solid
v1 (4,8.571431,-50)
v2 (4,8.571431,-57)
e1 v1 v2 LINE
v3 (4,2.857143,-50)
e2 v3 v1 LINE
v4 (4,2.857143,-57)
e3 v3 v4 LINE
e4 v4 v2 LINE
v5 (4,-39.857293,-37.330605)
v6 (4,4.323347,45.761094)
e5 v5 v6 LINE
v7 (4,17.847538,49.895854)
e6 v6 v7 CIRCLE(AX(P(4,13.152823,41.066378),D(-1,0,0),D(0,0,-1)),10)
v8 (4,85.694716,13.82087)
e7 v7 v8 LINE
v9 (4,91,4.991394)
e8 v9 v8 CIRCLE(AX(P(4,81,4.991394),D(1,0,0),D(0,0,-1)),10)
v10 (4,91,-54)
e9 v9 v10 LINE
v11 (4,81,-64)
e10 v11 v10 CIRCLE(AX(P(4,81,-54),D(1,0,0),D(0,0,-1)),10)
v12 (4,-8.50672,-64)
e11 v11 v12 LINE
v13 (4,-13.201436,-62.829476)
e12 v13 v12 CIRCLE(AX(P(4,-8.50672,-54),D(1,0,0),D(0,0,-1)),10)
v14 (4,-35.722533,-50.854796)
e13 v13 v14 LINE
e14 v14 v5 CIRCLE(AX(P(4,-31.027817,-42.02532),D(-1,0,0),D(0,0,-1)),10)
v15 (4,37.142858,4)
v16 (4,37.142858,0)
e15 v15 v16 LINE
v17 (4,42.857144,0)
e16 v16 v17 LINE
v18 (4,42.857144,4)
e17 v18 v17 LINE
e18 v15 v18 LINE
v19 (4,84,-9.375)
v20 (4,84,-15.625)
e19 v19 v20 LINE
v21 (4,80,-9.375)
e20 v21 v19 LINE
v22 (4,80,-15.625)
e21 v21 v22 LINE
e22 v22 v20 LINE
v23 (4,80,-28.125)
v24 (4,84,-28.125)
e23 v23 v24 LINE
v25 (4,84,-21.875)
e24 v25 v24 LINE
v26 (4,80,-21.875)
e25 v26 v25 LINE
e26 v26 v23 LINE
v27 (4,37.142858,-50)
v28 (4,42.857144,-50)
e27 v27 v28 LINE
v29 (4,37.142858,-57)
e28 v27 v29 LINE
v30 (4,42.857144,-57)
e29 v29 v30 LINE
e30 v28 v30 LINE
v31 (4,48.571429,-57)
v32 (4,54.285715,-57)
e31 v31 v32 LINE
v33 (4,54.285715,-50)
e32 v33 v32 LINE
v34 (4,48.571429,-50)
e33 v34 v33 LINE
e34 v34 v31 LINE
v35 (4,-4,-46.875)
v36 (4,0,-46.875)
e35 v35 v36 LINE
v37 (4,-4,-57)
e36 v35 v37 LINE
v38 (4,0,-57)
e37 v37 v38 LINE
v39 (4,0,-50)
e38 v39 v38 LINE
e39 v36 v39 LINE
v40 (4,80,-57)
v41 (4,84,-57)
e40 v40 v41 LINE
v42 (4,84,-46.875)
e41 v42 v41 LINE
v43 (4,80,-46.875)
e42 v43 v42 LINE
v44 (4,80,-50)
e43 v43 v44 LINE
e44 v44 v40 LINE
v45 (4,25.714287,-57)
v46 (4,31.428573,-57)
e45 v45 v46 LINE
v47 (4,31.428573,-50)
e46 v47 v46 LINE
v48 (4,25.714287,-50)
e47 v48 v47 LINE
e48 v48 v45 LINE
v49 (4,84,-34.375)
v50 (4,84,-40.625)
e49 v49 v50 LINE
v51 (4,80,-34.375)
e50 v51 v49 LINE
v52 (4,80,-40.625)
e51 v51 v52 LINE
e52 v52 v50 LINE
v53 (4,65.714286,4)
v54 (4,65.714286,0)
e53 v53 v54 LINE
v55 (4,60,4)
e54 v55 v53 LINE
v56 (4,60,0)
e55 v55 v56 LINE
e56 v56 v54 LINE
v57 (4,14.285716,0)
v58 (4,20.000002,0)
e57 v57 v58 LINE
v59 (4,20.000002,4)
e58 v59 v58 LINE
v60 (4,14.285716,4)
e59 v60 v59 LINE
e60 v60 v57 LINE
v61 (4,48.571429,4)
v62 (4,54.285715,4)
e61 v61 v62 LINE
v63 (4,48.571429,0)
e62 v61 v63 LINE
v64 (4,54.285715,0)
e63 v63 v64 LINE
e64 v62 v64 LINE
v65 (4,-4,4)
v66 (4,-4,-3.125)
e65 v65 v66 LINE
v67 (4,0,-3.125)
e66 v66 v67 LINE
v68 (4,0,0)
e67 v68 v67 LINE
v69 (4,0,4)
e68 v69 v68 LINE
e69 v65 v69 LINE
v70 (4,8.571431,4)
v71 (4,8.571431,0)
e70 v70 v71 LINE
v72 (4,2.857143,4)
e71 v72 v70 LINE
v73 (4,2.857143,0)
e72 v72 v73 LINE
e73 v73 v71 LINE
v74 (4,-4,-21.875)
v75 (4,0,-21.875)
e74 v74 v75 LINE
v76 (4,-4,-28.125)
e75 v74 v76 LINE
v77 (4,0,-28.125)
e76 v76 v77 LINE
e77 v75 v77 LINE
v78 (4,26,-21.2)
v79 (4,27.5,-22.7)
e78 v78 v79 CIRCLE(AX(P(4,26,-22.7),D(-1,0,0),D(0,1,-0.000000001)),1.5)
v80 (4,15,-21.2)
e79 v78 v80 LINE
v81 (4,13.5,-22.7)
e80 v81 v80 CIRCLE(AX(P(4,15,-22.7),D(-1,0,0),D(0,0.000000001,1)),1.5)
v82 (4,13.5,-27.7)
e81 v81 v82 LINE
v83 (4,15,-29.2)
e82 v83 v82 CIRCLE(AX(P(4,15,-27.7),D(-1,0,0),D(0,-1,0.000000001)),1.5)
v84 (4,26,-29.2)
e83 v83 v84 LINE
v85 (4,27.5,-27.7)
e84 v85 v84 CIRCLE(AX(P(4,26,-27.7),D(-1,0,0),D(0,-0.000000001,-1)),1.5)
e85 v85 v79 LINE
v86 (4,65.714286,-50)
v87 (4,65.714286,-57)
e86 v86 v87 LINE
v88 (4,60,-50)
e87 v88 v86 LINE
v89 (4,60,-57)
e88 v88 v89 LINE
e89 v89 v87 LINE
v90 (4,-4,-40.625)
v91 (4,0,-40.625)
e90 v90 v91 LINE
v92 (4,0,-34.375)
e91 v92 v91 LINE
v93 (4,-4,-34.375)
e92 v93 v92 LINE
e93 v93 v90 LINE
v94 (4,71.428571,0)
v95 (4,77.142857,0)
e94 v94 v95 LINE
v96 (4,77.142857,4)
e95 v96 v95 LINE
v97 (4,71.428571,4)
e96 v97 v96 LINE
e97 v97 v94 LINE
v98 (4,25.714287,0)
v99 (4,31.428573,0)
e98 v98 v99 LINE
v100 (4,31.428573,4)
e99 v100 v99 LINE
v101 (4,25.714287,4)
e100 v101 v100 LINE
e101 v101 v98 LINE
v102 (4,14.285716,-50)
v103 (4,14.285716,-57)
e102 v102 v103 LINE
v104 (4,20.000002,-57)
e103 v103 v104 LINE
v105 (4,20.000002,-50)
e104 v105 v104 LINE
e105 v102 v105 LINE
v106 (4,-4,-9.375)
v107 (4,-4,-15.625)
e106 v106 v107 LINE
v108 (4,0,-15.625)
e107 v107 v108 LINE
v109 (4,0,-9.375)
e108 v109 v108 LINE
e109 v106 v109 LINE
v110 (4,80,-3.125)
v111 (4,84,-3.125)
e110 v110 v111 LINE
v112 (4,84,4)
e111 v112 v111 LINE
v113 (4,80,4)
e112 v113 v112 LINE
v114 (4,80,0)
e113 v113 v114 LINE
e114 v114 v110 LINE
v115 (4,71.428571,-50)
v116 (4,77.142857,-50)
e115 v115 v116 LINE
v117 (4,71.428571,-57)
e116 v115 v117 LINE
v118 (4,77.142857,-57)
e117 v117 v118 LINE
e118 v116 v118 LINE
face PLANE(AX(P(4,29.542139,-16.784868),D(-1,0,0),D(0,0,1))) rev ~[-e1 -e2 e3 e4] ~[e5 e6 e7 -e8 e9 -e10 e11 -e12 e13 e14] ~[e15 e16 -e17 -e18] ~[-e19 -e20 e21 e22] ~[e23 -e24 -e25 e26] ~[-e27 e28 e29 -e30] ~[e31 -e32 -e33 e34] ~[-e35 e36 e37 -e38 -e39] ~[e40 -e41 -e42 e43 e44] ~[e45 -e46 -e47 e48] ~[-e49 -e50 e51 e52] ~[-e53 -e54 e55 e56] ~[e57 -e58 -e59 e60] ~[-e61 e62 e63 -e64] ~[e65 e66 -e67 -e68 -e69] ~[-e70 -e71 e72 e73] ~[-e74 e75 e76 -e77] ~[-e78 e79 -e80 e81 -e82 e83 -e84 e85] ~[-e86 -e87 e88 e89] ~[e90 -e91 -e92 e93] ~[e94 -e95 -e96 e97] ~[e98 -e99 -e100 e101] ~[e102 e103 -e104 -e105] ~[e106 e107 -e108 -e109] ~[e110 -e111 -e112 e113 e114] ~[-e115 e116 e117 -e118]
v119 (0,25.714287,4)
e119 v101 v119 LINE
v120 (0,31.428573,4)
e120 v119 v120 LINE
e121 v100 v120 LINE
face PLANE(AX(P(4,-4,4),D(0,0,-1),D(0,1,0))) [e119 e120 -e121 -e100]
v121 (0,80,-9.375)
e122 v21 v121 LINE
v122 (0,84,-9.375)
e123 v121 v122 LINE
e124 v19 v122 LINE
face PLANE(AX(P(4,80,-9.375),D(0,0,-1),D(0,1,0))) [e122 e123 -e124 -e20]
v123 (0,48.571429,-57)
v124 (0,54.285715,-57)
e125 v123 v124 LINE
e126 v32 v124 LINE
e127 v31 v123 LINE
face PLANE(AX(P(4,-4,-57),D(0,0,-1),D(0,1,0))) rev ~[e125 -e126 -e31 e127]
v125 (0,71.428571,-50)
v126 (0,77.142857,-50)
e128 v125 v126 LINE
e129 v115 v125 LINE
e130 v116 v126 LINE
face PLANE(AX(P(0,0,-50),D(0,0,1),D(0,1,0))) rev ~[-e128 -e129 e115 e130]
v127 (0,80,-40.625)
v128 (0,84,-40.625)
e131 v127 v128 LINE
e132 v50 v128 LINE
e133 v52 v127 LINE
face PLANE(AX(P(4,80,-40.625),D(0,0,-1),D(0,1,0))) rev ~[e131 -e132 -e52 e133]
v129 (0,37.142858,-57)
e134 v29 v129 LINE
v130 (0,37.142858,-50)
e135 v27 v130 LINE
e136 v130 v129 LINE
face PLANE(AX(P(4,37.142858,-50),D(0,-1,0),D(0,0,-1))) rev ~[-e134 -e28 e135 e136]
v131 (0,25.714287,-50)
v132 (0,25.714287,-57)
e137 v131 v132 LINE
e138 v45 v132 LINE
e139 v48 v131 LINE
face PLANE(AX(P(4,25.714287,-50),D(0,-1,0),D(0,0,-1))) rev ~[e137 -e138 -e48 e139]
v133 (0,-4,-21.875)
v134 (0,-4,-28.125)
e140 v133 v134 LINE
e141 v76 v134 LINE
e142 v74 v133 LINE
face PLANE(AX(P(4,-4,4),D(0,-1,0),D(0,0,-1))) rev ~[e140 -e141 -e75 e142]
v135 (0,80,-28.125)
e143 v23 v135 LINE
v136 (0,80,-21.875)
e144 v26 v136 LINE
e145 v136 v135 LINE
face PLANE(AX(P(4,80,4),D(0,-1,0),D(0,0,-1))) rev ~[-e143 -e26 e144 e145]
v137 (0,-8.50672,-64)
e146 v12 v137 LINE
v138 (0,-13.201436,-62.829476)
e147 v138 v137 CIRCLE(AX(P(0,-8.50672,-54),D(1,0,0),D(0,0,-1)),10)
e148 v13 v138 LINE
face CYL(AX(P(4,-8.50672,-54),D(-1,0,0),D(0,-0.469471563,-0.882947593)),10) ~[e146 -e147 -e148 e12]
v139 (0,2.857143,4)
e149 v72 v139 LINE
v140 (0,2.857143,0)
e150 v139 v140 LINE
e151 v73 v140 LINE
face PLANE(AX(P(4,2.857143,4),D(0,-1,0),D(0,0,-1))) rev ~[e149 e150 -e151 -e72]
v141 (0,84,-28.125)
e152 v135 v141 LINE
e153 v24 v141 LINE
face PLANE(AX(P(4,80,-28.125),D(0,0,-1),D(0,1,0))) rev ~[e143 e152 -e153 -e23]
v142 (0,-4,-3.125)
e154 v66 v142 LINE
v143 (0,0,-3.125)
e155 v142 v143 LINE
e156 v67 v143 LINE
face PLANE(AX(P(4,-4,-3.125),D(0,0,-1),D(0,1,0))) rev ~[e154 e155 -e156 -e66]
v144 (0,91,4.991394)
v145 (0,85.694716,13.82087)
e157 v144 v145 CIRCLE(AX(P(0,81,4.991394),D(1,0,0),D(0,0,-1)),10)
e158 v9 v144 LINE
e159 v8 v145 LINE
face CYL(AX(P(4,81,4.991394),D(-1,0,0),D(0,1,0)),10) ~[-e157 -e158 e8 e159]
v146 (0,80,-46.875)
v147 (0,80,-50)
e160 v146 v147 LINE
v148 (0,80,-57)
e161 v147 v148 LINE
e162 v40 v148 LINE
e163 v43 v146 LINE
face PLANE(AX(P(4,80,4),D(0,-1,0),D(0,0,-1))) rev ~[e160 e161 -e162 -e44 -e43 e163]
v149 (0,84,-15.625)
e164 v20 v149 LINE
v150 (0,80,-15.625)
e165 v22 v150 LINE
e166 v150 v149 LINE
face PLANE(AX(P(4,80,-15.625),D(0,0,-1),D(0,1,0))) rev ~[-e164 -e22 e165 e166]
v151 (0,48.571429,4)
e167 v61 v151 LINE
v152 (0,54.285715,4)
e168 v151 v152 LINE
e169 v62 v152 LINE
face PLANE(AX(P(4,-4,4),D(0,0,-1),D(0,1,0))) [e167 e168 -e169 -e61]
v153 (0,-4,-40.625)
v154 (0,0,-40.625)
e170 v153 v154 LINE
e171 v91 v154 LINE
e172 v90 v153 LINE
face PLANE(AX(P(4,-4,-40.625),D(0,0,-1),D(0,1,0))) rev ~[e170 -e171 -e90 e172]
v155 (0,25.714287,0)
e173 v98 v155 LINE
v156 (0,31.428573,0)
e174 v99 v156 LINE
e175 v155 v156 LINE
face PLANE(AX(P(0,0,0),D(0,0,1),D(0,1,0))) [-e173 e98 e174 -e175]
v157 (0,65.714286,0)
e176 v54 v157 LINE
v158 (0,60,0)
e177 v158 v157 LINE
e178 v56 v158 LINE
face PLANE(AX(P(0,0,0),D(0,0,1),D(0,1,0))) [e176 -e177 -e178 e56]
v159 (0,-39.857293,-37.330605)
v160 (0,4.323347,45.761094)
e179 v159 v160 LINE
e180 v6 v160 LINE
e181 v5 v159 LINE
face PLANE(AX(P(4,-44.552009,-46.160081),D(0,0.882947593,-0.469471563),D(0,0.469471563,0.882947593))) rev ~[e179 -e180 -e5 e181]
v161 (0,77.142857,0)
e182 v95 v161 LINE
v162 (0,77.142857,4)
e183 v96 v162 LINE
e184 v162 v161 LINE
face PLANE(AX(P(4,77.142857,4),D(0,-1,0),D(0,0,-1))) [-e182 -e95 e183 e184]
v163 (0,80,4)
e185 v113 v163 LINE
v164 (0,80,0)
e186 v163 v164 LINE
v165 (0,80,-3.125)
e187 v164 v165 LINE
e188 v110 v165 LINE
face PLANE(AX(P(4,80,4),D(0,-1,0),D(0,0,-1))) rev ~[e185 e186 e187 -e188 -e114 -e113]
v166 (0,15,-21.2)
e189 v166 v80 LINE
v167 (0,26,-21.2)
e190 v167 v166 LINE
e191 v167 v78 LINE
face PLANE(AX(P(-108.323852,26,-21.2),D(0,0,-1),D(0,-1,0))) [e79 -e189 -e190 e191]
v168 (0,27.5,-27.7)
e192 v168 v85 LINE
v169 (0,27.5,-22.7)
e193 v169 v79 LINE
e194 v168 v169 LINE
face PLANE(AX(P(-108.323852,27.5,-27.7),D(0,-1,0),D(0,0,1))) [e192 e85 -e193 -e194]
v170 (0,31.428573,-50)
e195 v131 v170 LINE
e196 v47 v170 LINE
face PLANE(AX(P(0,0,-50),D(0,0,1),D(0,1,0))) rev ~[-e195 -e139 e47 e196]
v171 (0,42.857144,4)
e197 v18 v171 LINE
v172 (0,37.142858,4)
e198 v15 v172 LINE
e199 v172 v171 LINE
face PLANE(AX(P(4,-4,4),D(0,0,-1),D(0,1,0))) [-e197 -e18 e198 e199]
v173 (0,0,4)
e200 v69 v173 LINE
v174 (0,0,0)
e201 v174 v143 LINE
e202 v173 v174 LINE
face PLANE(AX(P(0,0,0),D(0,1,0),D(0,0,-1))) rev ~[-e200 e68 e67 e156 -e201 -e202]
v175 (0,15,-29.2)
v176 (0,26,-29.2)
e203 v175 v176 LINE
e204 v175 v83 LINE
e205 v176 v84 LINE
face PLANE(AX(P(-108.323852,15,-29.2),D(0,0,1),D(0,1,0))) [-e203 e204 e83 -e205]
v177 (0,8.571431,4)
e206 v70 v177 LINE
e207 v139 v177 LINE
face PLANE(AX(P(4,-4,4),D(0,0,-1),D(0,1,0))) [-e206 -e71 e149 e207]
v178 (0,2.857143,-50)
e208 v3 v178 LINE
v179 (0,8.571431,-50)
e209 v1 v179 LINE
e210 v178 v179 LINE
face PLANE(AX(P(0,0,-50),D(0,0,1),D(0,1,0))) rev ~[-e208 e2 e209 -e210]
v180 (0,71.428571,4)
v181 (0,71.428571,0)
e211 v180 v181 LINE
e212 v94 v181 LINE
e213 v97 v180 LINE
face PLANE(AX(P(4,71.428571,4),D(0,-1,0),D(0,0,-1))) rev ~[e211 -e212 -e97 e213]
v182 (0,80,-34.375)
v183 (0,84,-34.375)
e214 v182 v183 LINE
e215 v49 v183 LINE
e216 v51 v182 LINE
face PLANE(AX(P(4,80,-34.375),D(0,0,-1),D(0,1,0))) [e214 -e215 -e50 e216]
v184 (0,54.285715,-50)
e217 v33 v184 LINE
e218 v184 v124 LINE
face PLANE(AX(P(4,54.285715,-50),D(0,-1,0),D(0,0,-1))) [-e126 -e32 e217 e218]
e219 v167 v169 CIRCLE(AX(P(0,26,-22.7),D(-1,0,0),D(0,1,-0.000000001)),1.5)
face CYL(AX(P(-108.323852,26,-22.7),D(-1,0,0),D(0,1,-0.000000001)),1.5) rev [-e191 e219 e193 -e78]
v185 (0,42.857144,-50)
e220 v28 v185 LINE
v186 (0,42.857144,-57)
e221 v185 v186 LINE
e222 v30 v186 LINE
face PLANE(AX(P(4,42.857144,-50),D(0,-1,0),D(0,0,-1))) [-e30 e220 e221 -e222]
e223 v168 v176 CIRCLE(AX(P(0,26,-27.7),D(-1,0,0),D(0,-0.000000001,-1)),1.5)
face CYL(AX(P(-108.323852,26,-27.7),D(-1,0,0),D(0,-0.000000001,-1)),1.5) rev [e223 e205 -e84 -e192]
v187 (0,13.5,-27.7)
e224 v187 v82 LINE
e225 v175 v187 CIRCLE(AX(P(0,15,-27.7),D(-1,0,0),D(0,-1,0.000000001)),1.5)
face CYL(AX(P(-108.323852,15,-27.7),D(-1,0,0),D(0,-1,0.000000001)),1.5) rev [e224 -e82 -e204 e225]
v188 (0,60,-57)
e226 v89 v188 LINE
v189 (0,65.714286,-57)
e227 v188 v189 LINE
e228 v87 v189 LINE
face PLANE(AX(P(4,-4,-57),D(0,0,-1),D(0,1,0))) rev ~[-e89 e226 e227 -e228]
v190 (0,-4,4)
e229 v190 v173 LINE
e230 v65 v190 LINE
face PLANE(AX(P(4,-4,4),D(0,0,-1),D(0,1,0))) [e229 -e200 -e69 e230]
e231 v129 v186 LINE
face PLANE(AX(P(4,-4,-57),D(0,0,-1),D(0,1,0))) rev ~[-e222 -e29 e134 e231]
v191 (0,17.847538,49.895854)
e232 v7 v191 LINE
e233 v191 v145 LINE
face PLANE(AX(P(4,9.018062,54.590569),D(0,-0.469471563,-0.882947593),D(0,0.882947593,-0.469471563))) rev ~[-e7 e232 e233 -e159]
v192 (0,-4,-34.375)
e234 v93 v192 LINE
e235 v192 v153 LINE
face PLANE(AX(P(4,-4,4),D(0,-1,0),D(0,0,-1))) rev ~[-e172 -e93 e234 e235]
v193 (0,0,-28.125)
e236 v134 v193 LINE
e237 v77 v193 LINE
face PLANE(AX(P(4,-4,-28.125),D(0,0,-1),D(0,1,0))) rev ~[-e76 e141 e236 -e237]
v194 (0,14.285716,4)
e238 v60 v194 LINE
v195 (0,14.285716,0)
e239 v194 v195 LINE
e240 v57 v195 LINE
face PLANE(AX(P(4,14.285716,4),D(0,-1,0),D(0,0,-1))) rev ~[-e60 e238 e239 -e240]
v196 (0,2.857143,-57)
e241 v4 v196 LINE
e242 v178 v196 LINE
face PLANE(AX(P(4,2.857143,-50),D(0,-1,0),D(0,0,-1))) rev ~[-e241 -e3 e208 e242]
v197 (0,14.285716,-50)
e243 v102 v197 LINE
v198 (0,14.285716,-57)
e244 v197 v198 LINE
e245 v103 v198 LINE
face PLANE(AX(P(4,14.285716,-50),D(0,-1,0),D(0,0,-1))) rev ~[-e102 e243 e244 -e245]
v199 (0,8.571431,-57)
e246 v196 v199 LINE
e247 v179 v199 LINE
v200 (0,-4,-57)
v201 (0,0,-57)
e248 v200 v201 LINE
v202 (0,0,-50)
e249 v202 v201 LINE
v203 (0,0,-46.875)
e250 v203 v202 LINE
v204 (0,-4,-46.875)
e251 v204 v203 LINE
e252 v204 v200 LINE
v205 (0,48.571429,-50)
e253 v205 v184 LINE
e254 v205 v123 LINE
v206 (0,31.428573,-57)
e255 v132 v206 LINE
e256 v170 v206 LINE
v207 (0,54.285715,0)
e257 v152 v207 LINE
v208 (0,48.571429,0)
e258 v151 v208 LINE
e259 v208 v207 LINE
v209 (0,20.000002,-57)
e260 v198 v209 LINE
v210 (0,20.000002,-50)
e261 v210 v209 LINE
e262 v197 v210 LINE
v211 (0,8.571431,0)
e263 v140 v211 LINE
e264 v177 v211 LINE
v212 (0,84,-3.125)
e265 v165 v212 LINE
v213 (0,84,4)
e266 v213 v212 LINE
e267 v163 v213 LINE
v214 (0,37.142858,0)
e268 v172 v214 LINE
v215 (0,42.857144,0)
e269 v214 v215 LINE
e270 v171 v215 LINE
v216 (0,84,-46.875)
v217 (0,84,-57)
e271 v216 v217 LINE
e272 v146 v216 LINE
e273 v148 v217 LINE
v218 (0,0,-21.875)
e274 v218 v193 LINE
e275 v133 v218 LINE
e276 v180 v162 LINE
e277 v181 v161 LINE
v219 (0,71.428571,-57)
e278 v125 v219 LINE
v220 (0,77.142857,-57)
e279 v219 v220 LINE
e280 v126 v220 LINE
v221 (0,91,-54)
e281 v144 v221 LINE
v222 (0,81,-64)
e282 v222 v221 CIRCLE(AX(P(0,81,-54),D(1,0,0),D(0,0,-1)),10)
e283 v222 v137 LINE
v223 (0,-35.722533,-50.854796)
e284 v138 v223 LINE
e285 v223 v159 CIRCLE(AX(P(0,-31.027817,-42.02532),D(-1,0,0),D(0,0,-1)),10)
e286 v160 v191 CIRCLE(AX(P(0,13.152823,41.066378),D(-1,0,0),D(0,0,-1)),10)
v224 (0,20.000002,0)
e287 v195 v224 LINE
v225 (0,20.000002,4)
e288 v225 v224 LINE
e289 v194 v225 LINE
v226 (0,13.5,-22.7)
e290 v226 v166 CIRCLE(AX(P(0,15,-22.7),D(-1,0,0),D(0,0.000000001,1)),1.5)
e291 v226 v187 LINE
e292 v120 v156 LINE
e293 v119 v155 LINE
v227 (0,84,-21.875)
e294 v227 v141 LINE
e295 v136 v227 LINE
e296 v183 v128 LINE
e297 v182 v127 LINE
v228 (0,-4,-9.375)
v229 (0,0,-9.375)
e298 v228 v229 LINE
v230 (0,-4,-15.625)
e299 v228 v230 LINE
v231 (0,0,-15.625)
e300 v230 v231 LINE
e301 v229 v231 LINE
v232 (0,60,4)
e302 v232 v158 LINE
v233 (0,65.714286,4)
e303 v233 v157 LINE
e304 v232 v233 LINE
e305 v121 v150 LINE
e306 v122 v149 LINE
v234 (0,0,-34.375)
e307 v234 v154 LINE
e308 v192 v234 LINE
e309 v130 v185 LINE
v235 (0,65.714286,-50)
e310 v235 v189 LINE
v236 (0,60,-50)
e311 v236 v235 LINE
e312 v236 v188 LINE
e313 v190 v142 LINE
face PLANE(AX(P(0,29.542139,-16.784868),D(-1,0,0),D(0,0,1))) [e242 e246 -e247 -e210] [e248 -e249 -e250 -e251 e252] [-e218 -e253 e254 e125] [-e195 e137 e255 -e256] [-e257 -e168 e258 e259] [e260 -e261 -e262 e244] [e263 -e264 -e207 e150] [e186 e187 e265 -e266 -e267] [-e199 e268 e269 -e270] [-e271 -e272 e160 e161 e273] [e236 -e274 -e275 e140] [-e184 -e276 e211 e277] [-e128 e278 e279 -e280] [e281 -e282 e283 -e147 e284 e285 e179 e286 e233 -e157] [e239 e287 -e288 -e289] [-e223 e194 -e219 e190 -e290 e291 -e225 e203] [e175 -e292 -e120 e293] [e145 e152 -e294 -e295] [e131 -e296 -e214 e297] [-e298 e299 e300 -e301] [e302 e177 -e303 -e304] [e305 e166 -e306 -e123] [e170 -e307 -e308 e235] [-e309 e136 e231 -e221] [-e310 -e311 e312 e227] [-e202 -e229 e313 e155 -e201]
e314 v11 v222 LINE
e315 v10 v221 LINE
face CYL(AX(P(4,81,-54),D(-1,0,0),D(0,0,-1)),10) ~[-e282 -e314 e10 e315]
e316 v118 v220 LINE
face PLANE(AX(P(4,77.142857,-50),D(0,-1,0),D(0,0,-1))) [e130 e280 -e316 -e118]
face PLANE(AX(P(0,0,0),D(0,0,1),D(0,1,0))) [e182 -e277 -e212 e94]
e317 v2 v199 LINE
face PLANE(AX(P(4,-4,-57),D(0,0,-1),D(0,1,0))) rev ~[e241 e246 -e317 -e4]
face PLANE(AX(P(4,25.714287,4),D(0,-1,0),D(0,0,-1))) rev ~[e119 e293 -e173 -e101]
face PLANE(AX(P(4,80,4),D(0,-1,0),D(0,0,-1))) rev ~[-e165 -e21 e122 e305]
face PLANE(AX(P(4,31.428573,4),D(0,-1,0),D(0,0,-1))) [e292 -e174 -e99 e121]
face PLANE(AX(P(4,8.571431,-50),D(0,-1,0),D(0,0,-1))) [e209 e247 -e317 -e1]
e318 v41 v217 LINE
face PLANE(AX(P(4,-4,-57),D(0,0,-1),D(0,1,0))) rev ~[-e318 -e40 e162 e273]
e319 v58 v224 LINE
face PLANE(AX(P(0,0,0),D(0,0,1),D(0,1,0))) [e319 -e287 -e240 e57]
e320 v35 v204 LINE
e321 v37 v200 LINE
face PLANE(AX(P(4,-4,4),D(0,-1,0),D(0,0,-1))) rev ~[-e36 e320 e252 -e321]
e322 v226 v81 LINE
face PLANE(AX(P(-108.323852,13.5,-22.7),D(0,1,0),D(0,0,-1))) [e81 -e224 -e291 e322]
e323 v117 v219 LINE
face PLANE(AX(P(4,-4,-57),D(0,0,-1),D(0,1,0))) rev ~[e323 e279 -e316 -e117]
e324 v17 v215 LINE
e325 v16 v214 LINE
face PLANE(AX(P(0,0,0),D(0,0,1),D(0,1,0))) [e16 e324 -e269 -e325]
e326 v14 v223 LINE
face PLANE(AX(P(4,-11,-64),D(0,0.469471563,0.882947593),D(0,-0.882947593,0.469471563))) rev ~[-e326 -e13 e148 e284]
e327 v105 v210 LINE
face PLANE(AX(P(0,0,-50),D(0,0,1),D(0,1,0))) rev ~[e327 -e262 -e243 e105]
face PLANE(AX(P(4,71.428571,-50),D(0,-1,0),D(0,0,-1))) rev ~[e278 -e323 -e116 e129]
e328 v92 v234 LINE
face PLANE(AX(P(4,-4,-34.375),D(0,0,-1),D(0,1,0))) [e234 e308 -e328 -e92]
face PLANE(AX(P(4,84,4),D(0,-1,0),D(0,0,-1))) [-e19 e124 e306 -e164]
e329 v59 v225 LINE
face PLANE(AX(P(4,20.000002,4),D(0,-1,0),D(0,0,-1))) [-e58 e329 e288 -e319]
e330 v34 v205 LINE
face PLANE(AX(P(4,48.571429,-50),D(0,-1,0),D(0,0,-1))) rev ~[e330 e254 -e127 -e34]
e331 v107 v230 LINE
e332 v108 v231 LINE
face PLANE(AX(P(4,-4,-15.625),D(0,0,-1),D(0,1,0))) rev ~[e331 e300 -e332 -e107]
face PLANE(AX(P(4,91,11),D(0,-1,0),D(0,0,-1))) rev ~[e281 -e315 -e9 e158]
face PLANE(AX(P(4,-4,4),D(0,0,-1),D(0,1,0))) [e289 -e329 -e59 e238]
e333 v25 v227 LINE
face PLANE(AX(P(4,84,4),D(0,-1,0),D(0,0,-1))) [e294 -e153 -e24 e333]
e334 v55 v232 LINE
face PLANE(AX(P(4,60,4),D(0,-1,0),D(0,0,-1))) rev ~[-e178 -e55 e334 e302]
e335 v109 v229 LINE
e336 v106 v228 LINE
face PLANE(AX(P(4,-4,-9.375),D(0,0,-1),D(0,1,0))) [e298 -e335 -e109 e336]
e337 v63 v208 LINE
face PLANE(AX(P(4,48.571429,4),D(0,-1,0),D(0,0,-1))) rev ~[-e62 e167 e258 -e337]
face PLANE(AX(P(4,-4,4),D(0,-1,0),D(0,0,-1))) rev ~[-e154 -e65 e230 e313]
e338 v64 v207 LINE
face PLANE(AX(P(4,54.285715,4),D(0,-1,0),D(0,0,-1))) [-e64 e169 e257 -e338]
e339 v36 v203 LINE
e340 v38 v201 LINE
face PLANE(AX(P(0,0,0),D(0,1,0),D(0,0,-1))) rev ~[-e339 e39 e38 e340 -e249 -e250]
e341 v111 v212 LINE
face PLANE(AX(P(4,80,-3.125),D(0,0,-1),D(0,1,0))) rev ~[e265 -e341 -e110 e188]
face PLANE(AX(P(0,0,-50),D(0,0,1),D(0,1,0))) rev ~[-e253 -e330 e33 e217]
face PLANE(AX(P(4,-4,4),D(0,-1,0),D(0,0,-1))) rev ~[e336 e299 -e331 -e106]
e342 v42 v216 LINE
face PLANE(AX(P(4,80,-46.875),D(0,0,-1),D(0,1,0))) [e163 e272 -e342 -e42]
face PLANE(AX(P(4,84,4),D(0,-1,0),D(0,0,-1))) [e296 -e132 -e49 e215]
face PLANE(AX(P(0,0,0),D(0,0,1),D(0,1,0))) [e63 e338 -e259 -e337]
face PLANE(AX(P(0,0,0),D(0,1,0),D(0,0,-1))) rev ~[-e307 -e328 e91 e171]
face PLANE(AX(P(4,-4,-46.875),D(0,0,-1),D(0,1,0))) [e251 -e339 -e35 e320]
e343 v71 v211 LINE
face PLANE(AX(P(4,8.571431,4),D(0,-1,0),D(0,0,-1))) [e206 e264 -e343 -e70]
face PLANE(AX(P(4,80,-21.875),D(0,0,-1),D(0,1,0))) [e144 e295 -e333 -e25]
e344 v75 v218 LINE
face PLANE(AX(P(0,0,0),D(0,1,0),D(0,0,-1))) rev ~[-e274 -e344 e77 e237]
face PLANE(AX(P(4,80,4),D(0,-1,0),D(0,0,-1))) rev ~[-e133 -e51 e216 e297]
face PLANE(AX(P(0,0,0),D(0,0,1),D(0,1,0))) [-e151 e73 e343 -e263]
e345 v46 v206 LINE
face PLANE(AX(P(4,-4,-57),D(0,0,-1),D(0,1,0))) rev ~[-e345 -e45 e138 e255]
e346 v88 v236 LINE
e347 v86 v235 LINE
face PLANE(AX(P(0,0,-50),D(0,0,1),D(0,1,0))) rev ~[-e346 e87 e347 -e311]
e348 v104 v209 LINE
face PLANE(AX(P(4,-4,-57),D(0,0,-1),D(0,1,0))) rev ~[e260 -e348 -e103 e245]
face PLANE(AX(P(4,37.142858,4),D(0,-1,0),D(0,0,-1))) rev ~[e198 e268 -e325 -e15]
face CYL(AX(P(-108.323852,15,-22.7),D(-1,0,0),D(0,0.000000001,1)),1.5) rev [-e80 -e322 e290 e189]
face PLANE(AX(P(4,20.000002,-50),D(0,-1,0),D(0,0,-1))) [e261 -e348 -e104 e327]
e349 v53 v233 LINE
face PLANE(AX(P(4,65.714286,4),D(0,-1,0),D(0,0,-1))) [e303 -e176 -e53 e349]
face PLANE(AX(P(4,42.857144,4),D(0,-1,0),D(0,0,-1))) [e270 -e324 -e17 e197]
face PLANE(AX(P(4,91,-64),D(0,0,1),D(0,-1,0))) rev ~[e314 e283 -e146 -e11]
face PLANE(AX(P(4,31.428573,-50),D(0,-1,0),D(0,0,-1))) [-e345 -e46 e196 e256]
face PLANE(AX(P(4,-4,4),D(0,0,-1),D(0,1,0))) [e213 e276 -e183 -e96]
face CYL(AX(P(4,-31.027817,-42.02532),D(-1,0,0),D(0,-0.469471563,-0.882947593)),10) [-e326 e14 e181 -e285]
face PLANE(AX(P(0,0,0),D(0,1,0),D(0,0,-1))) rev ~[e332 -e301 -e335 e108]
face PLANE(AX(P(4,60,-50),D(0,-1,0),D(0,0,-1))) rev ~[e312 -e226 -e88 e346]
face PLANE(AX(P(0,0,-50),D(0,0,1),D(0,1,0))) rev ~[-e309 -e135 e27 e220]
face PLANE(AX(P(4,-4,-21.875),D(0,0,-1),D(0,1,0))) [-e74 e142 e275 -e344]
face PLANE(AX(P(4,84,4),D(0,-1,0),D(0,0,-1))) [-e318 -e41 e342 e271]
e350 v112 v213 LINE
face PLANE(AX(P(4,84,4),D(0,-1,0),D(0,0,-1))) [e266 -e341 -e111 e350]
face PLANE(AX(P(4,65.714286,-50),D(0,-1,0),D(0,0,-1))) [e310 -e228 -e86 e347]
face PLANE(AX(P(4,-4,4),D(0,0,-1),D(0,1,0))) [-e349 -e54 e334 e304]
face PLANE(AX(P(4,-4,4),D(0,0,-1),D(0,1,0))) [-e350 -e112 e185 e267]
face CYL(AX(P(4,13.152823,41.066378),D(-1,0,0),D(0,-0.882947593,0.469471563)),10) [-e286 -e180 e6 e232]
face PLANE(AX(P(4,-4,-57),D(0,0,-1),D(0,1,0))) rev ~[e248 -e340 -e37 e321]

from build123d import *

# Parameters (mm, degrees)
SCHIZZO1_W                    = 50
SCHIZZO1_H                    = 80
ESTRUSIONE_ESTRUSIONE1_DEPTH  = 4
SCHIZZO2_W                    = 4
SCHIZZO2_H                    = 2.857142857
SCHIZZO2_W_2                  = 7
ESTRUSIONE_ESTRUSIONE2_DEPTH  = 4
SCHIZZO3_W                    = 4
SCHIZZO3_H                    = 5.714285715
SCHIZZO3_W_2                  = 7
ESTRUSIONE_ESTRUSIONE3_DEPTH  = 4
RIPETIZIONE_A_L1_COUNT        = 6
RIPETIZIONE_A_L1_PITCH        = 11.428571
SCHIZZO4_W                    = 6.25
SCHIZZO4_H                    = 4
ESTRUSIONE_ESTRUSIONE4_DEPTH  = 4
RIPETIZIONE_A_L2_COUNT        = 4
RIPETIZIONE_A_L2_PITCH        = 12.5
SCHIZZO5_W                    = 61
SCHIZZO5_H                    = 88
ESTRUSIONE_ESTRUSIONE5_DEPTH  = 4
RACCORDO1_R                   = 10
TAGLIO_ESTRUSIONE1_DEPTH      = 112.323851892
TAGLIO_ESTRUSIONE1_DEPTH_BACK = 112.323851892
RACCORDO2_R                   = 10


with BuildPart() as part:
    # Schizzo1 → Estrusione-Estrusione1 (new body)
    with BuildSketch(Plane(origin=(0, 0, 0), x_dir=(0, 0, -1), z_dir=(1, 0, 0))):
        with Locations((25, 40)):
            Rectangle(SCHIZZO1_W, SCHIZZO1_H)
    extrude(amount=ESTRUSIONE_ESTRUSIONE1_DEPTH)

    # Schizzo2 → Estrusione-Estrusione2 (add)
    with BuildSketch(Plane(origin=(4, 0, 0), x_dir=(0, 0, -1), z_dir=(1, 0, 0))):
        with Locations((-2, 78.571428572)):
            Rectangle(SCHIZZO2_W, SCHIZZO2_H)
        with Locations((53.5, 78.571428572)):
            Rectangle(SCHIZZO2_W_2, SCHIZZO2_H)
        with Locations((53.5, 1.428571429)):
            Rectangle(SCHIZZO2_W_2, SCHIZZO2_H)
        with Locations((-2, 1.428571429)):
            Rectangle(SCHIZZO2_W, SCHIZZO2_H)
    extrude(amount=-ESTRUSIONE_ESTRUSIONE2_DEPTH)

    # Schizzo3 → Estrusione-Estrusione3 (add)
    with BuildSketch(Plane(origin=(4, 0, 0), x_dir=(0, 0, -1), z_dir=(1, 0, 0))):
        with Locations((-2, 68.571428572)):
            Rectangle(SCHIZZO3_W, SCHIZZO3_H)
        with Locations((53.5, 68.571428572)):
            Rectangle(SCHIZZO3_W_2, SCHIZZO3_H)
    estrusione_estrusione3 = extrude(amount=-ESTRUSIONE_ESTRUSIONE3_DEPTH)

    # Ripetizione a L1: Estrusione-Estrusione3 ×6
    with Locations(*[(0, -i * RIPETIZIONE_A_L1_PITCH, 0) for i in range(1, RIPETIZIONE_A_L1_COUNT)]):
        add(estrusione_estrusione3)

    # Schizzo4 → Estrusione-Estrusione4 (add)
    with BuildSketch(Plane(origin=(4, 0, 0), x_dir=(0, 0, -1), z_dir=(1, 0, 0))):
        with Locations((6.25, 82)):
            Rectangle(SCHIZZO4_W, SCHIZZO4_H)
        with Locations((6.25, -2)):
            Rectangle(SCHIZZO4_W, SCHIZZO4_H)
    estrusione_estrusione4 = extrude(amount=-ESTRUSIONE_ESTRUSIONE4_DEPTH)

    # Ripetizione a L2: Estrusione-Estrusione4 ×4
    with Locations(*[(0, 0, -i * RIPETIZIONE_A_L2_PITCH) for i in range(1, RIPETIZIONE_A_L2_COUNT)]):
        add(estrusione_estrusione4)

    # Schizzo5 → Estrusione-Estrusione5 (add)
    with BuildSketch(Plane(origin=(4, 0, 0), x_dir=(0, 0, -1), z_dir=(1, 0, 0))):
        Polygon((64, -11), (46.160080614, -44.552008529), (-54.590569466, 9.018062365), (-11, 91), (64, 91), align=None)
        with Locations((26.5, 40)):
            Rectangle(SCHIZZO5_W, SCHIZZO5_H, mode=Mode.SUBTRACT)
    extrude(amount=-ESTRUSIONE_ESTRUSIONE5_DEPTH)

    # Raccordo1
    raccordo1_edges = [part.edges().sort_by_distance(p)[0] for p in [
        (2, -44.552008529, -46.160080614),
        (2, 9.018062365, 54.590569466),
    ]]
    fillet(raccordo1_edges, radius=RACCORDO1_R)

    # Schizzo6 → Taglio-Estrusione1 (cut, two sides: drawn at the far end of the back side and taken through both)
    with BuildSketch(Plane(origin=(4, 0, 0), x_dir=(0, 0, -1), z_dir=(1, 0, 0)).offset(-TAGLIO_ESTRUSIONE1_DEPTH_BACK)):
        with BuildLine():
            Line((21.2, 26), (21.2, 15))
            ThreePointArc((21.2, 15), (21.639339828, 13.939339828), (22.7, 13.5))
            Line((22.7, 13.5), (27.7, 13.5))
            ThreePointArc((27.7, 13.5), (28.760660172, 13.939339828), (29.2, 15))
            Line((29.2, 15), (29.2, 26))
            ThreePointArc((29.2, 26), (28.760660172, 27.060660172), (27.7, 27.5))
            Line((27.7, 27.5), (22.7, 27.5))
            ThreePointArc((22.7, 27.5), (21.639339828, 27.060660172), (21.2, 26))
        make_face()
    extrude(amount=TAGLIO_ESTRUSIONE1_DEPTH + TAGLIO_ESTRUSIONE1_DEPTH_BACK, mode=Mode.SUBTRACT)

    # Raccordo2
    raccordo2_edges = [part.edges().sort_by_distance(p)[0] for p in [
        (2, 91, -64),
        (2, -11, -64),
        (2, 91, 11),
    ]]
    fillet(raccordo2_edges, radius=RACCORDO2_R)


solid = part.part
